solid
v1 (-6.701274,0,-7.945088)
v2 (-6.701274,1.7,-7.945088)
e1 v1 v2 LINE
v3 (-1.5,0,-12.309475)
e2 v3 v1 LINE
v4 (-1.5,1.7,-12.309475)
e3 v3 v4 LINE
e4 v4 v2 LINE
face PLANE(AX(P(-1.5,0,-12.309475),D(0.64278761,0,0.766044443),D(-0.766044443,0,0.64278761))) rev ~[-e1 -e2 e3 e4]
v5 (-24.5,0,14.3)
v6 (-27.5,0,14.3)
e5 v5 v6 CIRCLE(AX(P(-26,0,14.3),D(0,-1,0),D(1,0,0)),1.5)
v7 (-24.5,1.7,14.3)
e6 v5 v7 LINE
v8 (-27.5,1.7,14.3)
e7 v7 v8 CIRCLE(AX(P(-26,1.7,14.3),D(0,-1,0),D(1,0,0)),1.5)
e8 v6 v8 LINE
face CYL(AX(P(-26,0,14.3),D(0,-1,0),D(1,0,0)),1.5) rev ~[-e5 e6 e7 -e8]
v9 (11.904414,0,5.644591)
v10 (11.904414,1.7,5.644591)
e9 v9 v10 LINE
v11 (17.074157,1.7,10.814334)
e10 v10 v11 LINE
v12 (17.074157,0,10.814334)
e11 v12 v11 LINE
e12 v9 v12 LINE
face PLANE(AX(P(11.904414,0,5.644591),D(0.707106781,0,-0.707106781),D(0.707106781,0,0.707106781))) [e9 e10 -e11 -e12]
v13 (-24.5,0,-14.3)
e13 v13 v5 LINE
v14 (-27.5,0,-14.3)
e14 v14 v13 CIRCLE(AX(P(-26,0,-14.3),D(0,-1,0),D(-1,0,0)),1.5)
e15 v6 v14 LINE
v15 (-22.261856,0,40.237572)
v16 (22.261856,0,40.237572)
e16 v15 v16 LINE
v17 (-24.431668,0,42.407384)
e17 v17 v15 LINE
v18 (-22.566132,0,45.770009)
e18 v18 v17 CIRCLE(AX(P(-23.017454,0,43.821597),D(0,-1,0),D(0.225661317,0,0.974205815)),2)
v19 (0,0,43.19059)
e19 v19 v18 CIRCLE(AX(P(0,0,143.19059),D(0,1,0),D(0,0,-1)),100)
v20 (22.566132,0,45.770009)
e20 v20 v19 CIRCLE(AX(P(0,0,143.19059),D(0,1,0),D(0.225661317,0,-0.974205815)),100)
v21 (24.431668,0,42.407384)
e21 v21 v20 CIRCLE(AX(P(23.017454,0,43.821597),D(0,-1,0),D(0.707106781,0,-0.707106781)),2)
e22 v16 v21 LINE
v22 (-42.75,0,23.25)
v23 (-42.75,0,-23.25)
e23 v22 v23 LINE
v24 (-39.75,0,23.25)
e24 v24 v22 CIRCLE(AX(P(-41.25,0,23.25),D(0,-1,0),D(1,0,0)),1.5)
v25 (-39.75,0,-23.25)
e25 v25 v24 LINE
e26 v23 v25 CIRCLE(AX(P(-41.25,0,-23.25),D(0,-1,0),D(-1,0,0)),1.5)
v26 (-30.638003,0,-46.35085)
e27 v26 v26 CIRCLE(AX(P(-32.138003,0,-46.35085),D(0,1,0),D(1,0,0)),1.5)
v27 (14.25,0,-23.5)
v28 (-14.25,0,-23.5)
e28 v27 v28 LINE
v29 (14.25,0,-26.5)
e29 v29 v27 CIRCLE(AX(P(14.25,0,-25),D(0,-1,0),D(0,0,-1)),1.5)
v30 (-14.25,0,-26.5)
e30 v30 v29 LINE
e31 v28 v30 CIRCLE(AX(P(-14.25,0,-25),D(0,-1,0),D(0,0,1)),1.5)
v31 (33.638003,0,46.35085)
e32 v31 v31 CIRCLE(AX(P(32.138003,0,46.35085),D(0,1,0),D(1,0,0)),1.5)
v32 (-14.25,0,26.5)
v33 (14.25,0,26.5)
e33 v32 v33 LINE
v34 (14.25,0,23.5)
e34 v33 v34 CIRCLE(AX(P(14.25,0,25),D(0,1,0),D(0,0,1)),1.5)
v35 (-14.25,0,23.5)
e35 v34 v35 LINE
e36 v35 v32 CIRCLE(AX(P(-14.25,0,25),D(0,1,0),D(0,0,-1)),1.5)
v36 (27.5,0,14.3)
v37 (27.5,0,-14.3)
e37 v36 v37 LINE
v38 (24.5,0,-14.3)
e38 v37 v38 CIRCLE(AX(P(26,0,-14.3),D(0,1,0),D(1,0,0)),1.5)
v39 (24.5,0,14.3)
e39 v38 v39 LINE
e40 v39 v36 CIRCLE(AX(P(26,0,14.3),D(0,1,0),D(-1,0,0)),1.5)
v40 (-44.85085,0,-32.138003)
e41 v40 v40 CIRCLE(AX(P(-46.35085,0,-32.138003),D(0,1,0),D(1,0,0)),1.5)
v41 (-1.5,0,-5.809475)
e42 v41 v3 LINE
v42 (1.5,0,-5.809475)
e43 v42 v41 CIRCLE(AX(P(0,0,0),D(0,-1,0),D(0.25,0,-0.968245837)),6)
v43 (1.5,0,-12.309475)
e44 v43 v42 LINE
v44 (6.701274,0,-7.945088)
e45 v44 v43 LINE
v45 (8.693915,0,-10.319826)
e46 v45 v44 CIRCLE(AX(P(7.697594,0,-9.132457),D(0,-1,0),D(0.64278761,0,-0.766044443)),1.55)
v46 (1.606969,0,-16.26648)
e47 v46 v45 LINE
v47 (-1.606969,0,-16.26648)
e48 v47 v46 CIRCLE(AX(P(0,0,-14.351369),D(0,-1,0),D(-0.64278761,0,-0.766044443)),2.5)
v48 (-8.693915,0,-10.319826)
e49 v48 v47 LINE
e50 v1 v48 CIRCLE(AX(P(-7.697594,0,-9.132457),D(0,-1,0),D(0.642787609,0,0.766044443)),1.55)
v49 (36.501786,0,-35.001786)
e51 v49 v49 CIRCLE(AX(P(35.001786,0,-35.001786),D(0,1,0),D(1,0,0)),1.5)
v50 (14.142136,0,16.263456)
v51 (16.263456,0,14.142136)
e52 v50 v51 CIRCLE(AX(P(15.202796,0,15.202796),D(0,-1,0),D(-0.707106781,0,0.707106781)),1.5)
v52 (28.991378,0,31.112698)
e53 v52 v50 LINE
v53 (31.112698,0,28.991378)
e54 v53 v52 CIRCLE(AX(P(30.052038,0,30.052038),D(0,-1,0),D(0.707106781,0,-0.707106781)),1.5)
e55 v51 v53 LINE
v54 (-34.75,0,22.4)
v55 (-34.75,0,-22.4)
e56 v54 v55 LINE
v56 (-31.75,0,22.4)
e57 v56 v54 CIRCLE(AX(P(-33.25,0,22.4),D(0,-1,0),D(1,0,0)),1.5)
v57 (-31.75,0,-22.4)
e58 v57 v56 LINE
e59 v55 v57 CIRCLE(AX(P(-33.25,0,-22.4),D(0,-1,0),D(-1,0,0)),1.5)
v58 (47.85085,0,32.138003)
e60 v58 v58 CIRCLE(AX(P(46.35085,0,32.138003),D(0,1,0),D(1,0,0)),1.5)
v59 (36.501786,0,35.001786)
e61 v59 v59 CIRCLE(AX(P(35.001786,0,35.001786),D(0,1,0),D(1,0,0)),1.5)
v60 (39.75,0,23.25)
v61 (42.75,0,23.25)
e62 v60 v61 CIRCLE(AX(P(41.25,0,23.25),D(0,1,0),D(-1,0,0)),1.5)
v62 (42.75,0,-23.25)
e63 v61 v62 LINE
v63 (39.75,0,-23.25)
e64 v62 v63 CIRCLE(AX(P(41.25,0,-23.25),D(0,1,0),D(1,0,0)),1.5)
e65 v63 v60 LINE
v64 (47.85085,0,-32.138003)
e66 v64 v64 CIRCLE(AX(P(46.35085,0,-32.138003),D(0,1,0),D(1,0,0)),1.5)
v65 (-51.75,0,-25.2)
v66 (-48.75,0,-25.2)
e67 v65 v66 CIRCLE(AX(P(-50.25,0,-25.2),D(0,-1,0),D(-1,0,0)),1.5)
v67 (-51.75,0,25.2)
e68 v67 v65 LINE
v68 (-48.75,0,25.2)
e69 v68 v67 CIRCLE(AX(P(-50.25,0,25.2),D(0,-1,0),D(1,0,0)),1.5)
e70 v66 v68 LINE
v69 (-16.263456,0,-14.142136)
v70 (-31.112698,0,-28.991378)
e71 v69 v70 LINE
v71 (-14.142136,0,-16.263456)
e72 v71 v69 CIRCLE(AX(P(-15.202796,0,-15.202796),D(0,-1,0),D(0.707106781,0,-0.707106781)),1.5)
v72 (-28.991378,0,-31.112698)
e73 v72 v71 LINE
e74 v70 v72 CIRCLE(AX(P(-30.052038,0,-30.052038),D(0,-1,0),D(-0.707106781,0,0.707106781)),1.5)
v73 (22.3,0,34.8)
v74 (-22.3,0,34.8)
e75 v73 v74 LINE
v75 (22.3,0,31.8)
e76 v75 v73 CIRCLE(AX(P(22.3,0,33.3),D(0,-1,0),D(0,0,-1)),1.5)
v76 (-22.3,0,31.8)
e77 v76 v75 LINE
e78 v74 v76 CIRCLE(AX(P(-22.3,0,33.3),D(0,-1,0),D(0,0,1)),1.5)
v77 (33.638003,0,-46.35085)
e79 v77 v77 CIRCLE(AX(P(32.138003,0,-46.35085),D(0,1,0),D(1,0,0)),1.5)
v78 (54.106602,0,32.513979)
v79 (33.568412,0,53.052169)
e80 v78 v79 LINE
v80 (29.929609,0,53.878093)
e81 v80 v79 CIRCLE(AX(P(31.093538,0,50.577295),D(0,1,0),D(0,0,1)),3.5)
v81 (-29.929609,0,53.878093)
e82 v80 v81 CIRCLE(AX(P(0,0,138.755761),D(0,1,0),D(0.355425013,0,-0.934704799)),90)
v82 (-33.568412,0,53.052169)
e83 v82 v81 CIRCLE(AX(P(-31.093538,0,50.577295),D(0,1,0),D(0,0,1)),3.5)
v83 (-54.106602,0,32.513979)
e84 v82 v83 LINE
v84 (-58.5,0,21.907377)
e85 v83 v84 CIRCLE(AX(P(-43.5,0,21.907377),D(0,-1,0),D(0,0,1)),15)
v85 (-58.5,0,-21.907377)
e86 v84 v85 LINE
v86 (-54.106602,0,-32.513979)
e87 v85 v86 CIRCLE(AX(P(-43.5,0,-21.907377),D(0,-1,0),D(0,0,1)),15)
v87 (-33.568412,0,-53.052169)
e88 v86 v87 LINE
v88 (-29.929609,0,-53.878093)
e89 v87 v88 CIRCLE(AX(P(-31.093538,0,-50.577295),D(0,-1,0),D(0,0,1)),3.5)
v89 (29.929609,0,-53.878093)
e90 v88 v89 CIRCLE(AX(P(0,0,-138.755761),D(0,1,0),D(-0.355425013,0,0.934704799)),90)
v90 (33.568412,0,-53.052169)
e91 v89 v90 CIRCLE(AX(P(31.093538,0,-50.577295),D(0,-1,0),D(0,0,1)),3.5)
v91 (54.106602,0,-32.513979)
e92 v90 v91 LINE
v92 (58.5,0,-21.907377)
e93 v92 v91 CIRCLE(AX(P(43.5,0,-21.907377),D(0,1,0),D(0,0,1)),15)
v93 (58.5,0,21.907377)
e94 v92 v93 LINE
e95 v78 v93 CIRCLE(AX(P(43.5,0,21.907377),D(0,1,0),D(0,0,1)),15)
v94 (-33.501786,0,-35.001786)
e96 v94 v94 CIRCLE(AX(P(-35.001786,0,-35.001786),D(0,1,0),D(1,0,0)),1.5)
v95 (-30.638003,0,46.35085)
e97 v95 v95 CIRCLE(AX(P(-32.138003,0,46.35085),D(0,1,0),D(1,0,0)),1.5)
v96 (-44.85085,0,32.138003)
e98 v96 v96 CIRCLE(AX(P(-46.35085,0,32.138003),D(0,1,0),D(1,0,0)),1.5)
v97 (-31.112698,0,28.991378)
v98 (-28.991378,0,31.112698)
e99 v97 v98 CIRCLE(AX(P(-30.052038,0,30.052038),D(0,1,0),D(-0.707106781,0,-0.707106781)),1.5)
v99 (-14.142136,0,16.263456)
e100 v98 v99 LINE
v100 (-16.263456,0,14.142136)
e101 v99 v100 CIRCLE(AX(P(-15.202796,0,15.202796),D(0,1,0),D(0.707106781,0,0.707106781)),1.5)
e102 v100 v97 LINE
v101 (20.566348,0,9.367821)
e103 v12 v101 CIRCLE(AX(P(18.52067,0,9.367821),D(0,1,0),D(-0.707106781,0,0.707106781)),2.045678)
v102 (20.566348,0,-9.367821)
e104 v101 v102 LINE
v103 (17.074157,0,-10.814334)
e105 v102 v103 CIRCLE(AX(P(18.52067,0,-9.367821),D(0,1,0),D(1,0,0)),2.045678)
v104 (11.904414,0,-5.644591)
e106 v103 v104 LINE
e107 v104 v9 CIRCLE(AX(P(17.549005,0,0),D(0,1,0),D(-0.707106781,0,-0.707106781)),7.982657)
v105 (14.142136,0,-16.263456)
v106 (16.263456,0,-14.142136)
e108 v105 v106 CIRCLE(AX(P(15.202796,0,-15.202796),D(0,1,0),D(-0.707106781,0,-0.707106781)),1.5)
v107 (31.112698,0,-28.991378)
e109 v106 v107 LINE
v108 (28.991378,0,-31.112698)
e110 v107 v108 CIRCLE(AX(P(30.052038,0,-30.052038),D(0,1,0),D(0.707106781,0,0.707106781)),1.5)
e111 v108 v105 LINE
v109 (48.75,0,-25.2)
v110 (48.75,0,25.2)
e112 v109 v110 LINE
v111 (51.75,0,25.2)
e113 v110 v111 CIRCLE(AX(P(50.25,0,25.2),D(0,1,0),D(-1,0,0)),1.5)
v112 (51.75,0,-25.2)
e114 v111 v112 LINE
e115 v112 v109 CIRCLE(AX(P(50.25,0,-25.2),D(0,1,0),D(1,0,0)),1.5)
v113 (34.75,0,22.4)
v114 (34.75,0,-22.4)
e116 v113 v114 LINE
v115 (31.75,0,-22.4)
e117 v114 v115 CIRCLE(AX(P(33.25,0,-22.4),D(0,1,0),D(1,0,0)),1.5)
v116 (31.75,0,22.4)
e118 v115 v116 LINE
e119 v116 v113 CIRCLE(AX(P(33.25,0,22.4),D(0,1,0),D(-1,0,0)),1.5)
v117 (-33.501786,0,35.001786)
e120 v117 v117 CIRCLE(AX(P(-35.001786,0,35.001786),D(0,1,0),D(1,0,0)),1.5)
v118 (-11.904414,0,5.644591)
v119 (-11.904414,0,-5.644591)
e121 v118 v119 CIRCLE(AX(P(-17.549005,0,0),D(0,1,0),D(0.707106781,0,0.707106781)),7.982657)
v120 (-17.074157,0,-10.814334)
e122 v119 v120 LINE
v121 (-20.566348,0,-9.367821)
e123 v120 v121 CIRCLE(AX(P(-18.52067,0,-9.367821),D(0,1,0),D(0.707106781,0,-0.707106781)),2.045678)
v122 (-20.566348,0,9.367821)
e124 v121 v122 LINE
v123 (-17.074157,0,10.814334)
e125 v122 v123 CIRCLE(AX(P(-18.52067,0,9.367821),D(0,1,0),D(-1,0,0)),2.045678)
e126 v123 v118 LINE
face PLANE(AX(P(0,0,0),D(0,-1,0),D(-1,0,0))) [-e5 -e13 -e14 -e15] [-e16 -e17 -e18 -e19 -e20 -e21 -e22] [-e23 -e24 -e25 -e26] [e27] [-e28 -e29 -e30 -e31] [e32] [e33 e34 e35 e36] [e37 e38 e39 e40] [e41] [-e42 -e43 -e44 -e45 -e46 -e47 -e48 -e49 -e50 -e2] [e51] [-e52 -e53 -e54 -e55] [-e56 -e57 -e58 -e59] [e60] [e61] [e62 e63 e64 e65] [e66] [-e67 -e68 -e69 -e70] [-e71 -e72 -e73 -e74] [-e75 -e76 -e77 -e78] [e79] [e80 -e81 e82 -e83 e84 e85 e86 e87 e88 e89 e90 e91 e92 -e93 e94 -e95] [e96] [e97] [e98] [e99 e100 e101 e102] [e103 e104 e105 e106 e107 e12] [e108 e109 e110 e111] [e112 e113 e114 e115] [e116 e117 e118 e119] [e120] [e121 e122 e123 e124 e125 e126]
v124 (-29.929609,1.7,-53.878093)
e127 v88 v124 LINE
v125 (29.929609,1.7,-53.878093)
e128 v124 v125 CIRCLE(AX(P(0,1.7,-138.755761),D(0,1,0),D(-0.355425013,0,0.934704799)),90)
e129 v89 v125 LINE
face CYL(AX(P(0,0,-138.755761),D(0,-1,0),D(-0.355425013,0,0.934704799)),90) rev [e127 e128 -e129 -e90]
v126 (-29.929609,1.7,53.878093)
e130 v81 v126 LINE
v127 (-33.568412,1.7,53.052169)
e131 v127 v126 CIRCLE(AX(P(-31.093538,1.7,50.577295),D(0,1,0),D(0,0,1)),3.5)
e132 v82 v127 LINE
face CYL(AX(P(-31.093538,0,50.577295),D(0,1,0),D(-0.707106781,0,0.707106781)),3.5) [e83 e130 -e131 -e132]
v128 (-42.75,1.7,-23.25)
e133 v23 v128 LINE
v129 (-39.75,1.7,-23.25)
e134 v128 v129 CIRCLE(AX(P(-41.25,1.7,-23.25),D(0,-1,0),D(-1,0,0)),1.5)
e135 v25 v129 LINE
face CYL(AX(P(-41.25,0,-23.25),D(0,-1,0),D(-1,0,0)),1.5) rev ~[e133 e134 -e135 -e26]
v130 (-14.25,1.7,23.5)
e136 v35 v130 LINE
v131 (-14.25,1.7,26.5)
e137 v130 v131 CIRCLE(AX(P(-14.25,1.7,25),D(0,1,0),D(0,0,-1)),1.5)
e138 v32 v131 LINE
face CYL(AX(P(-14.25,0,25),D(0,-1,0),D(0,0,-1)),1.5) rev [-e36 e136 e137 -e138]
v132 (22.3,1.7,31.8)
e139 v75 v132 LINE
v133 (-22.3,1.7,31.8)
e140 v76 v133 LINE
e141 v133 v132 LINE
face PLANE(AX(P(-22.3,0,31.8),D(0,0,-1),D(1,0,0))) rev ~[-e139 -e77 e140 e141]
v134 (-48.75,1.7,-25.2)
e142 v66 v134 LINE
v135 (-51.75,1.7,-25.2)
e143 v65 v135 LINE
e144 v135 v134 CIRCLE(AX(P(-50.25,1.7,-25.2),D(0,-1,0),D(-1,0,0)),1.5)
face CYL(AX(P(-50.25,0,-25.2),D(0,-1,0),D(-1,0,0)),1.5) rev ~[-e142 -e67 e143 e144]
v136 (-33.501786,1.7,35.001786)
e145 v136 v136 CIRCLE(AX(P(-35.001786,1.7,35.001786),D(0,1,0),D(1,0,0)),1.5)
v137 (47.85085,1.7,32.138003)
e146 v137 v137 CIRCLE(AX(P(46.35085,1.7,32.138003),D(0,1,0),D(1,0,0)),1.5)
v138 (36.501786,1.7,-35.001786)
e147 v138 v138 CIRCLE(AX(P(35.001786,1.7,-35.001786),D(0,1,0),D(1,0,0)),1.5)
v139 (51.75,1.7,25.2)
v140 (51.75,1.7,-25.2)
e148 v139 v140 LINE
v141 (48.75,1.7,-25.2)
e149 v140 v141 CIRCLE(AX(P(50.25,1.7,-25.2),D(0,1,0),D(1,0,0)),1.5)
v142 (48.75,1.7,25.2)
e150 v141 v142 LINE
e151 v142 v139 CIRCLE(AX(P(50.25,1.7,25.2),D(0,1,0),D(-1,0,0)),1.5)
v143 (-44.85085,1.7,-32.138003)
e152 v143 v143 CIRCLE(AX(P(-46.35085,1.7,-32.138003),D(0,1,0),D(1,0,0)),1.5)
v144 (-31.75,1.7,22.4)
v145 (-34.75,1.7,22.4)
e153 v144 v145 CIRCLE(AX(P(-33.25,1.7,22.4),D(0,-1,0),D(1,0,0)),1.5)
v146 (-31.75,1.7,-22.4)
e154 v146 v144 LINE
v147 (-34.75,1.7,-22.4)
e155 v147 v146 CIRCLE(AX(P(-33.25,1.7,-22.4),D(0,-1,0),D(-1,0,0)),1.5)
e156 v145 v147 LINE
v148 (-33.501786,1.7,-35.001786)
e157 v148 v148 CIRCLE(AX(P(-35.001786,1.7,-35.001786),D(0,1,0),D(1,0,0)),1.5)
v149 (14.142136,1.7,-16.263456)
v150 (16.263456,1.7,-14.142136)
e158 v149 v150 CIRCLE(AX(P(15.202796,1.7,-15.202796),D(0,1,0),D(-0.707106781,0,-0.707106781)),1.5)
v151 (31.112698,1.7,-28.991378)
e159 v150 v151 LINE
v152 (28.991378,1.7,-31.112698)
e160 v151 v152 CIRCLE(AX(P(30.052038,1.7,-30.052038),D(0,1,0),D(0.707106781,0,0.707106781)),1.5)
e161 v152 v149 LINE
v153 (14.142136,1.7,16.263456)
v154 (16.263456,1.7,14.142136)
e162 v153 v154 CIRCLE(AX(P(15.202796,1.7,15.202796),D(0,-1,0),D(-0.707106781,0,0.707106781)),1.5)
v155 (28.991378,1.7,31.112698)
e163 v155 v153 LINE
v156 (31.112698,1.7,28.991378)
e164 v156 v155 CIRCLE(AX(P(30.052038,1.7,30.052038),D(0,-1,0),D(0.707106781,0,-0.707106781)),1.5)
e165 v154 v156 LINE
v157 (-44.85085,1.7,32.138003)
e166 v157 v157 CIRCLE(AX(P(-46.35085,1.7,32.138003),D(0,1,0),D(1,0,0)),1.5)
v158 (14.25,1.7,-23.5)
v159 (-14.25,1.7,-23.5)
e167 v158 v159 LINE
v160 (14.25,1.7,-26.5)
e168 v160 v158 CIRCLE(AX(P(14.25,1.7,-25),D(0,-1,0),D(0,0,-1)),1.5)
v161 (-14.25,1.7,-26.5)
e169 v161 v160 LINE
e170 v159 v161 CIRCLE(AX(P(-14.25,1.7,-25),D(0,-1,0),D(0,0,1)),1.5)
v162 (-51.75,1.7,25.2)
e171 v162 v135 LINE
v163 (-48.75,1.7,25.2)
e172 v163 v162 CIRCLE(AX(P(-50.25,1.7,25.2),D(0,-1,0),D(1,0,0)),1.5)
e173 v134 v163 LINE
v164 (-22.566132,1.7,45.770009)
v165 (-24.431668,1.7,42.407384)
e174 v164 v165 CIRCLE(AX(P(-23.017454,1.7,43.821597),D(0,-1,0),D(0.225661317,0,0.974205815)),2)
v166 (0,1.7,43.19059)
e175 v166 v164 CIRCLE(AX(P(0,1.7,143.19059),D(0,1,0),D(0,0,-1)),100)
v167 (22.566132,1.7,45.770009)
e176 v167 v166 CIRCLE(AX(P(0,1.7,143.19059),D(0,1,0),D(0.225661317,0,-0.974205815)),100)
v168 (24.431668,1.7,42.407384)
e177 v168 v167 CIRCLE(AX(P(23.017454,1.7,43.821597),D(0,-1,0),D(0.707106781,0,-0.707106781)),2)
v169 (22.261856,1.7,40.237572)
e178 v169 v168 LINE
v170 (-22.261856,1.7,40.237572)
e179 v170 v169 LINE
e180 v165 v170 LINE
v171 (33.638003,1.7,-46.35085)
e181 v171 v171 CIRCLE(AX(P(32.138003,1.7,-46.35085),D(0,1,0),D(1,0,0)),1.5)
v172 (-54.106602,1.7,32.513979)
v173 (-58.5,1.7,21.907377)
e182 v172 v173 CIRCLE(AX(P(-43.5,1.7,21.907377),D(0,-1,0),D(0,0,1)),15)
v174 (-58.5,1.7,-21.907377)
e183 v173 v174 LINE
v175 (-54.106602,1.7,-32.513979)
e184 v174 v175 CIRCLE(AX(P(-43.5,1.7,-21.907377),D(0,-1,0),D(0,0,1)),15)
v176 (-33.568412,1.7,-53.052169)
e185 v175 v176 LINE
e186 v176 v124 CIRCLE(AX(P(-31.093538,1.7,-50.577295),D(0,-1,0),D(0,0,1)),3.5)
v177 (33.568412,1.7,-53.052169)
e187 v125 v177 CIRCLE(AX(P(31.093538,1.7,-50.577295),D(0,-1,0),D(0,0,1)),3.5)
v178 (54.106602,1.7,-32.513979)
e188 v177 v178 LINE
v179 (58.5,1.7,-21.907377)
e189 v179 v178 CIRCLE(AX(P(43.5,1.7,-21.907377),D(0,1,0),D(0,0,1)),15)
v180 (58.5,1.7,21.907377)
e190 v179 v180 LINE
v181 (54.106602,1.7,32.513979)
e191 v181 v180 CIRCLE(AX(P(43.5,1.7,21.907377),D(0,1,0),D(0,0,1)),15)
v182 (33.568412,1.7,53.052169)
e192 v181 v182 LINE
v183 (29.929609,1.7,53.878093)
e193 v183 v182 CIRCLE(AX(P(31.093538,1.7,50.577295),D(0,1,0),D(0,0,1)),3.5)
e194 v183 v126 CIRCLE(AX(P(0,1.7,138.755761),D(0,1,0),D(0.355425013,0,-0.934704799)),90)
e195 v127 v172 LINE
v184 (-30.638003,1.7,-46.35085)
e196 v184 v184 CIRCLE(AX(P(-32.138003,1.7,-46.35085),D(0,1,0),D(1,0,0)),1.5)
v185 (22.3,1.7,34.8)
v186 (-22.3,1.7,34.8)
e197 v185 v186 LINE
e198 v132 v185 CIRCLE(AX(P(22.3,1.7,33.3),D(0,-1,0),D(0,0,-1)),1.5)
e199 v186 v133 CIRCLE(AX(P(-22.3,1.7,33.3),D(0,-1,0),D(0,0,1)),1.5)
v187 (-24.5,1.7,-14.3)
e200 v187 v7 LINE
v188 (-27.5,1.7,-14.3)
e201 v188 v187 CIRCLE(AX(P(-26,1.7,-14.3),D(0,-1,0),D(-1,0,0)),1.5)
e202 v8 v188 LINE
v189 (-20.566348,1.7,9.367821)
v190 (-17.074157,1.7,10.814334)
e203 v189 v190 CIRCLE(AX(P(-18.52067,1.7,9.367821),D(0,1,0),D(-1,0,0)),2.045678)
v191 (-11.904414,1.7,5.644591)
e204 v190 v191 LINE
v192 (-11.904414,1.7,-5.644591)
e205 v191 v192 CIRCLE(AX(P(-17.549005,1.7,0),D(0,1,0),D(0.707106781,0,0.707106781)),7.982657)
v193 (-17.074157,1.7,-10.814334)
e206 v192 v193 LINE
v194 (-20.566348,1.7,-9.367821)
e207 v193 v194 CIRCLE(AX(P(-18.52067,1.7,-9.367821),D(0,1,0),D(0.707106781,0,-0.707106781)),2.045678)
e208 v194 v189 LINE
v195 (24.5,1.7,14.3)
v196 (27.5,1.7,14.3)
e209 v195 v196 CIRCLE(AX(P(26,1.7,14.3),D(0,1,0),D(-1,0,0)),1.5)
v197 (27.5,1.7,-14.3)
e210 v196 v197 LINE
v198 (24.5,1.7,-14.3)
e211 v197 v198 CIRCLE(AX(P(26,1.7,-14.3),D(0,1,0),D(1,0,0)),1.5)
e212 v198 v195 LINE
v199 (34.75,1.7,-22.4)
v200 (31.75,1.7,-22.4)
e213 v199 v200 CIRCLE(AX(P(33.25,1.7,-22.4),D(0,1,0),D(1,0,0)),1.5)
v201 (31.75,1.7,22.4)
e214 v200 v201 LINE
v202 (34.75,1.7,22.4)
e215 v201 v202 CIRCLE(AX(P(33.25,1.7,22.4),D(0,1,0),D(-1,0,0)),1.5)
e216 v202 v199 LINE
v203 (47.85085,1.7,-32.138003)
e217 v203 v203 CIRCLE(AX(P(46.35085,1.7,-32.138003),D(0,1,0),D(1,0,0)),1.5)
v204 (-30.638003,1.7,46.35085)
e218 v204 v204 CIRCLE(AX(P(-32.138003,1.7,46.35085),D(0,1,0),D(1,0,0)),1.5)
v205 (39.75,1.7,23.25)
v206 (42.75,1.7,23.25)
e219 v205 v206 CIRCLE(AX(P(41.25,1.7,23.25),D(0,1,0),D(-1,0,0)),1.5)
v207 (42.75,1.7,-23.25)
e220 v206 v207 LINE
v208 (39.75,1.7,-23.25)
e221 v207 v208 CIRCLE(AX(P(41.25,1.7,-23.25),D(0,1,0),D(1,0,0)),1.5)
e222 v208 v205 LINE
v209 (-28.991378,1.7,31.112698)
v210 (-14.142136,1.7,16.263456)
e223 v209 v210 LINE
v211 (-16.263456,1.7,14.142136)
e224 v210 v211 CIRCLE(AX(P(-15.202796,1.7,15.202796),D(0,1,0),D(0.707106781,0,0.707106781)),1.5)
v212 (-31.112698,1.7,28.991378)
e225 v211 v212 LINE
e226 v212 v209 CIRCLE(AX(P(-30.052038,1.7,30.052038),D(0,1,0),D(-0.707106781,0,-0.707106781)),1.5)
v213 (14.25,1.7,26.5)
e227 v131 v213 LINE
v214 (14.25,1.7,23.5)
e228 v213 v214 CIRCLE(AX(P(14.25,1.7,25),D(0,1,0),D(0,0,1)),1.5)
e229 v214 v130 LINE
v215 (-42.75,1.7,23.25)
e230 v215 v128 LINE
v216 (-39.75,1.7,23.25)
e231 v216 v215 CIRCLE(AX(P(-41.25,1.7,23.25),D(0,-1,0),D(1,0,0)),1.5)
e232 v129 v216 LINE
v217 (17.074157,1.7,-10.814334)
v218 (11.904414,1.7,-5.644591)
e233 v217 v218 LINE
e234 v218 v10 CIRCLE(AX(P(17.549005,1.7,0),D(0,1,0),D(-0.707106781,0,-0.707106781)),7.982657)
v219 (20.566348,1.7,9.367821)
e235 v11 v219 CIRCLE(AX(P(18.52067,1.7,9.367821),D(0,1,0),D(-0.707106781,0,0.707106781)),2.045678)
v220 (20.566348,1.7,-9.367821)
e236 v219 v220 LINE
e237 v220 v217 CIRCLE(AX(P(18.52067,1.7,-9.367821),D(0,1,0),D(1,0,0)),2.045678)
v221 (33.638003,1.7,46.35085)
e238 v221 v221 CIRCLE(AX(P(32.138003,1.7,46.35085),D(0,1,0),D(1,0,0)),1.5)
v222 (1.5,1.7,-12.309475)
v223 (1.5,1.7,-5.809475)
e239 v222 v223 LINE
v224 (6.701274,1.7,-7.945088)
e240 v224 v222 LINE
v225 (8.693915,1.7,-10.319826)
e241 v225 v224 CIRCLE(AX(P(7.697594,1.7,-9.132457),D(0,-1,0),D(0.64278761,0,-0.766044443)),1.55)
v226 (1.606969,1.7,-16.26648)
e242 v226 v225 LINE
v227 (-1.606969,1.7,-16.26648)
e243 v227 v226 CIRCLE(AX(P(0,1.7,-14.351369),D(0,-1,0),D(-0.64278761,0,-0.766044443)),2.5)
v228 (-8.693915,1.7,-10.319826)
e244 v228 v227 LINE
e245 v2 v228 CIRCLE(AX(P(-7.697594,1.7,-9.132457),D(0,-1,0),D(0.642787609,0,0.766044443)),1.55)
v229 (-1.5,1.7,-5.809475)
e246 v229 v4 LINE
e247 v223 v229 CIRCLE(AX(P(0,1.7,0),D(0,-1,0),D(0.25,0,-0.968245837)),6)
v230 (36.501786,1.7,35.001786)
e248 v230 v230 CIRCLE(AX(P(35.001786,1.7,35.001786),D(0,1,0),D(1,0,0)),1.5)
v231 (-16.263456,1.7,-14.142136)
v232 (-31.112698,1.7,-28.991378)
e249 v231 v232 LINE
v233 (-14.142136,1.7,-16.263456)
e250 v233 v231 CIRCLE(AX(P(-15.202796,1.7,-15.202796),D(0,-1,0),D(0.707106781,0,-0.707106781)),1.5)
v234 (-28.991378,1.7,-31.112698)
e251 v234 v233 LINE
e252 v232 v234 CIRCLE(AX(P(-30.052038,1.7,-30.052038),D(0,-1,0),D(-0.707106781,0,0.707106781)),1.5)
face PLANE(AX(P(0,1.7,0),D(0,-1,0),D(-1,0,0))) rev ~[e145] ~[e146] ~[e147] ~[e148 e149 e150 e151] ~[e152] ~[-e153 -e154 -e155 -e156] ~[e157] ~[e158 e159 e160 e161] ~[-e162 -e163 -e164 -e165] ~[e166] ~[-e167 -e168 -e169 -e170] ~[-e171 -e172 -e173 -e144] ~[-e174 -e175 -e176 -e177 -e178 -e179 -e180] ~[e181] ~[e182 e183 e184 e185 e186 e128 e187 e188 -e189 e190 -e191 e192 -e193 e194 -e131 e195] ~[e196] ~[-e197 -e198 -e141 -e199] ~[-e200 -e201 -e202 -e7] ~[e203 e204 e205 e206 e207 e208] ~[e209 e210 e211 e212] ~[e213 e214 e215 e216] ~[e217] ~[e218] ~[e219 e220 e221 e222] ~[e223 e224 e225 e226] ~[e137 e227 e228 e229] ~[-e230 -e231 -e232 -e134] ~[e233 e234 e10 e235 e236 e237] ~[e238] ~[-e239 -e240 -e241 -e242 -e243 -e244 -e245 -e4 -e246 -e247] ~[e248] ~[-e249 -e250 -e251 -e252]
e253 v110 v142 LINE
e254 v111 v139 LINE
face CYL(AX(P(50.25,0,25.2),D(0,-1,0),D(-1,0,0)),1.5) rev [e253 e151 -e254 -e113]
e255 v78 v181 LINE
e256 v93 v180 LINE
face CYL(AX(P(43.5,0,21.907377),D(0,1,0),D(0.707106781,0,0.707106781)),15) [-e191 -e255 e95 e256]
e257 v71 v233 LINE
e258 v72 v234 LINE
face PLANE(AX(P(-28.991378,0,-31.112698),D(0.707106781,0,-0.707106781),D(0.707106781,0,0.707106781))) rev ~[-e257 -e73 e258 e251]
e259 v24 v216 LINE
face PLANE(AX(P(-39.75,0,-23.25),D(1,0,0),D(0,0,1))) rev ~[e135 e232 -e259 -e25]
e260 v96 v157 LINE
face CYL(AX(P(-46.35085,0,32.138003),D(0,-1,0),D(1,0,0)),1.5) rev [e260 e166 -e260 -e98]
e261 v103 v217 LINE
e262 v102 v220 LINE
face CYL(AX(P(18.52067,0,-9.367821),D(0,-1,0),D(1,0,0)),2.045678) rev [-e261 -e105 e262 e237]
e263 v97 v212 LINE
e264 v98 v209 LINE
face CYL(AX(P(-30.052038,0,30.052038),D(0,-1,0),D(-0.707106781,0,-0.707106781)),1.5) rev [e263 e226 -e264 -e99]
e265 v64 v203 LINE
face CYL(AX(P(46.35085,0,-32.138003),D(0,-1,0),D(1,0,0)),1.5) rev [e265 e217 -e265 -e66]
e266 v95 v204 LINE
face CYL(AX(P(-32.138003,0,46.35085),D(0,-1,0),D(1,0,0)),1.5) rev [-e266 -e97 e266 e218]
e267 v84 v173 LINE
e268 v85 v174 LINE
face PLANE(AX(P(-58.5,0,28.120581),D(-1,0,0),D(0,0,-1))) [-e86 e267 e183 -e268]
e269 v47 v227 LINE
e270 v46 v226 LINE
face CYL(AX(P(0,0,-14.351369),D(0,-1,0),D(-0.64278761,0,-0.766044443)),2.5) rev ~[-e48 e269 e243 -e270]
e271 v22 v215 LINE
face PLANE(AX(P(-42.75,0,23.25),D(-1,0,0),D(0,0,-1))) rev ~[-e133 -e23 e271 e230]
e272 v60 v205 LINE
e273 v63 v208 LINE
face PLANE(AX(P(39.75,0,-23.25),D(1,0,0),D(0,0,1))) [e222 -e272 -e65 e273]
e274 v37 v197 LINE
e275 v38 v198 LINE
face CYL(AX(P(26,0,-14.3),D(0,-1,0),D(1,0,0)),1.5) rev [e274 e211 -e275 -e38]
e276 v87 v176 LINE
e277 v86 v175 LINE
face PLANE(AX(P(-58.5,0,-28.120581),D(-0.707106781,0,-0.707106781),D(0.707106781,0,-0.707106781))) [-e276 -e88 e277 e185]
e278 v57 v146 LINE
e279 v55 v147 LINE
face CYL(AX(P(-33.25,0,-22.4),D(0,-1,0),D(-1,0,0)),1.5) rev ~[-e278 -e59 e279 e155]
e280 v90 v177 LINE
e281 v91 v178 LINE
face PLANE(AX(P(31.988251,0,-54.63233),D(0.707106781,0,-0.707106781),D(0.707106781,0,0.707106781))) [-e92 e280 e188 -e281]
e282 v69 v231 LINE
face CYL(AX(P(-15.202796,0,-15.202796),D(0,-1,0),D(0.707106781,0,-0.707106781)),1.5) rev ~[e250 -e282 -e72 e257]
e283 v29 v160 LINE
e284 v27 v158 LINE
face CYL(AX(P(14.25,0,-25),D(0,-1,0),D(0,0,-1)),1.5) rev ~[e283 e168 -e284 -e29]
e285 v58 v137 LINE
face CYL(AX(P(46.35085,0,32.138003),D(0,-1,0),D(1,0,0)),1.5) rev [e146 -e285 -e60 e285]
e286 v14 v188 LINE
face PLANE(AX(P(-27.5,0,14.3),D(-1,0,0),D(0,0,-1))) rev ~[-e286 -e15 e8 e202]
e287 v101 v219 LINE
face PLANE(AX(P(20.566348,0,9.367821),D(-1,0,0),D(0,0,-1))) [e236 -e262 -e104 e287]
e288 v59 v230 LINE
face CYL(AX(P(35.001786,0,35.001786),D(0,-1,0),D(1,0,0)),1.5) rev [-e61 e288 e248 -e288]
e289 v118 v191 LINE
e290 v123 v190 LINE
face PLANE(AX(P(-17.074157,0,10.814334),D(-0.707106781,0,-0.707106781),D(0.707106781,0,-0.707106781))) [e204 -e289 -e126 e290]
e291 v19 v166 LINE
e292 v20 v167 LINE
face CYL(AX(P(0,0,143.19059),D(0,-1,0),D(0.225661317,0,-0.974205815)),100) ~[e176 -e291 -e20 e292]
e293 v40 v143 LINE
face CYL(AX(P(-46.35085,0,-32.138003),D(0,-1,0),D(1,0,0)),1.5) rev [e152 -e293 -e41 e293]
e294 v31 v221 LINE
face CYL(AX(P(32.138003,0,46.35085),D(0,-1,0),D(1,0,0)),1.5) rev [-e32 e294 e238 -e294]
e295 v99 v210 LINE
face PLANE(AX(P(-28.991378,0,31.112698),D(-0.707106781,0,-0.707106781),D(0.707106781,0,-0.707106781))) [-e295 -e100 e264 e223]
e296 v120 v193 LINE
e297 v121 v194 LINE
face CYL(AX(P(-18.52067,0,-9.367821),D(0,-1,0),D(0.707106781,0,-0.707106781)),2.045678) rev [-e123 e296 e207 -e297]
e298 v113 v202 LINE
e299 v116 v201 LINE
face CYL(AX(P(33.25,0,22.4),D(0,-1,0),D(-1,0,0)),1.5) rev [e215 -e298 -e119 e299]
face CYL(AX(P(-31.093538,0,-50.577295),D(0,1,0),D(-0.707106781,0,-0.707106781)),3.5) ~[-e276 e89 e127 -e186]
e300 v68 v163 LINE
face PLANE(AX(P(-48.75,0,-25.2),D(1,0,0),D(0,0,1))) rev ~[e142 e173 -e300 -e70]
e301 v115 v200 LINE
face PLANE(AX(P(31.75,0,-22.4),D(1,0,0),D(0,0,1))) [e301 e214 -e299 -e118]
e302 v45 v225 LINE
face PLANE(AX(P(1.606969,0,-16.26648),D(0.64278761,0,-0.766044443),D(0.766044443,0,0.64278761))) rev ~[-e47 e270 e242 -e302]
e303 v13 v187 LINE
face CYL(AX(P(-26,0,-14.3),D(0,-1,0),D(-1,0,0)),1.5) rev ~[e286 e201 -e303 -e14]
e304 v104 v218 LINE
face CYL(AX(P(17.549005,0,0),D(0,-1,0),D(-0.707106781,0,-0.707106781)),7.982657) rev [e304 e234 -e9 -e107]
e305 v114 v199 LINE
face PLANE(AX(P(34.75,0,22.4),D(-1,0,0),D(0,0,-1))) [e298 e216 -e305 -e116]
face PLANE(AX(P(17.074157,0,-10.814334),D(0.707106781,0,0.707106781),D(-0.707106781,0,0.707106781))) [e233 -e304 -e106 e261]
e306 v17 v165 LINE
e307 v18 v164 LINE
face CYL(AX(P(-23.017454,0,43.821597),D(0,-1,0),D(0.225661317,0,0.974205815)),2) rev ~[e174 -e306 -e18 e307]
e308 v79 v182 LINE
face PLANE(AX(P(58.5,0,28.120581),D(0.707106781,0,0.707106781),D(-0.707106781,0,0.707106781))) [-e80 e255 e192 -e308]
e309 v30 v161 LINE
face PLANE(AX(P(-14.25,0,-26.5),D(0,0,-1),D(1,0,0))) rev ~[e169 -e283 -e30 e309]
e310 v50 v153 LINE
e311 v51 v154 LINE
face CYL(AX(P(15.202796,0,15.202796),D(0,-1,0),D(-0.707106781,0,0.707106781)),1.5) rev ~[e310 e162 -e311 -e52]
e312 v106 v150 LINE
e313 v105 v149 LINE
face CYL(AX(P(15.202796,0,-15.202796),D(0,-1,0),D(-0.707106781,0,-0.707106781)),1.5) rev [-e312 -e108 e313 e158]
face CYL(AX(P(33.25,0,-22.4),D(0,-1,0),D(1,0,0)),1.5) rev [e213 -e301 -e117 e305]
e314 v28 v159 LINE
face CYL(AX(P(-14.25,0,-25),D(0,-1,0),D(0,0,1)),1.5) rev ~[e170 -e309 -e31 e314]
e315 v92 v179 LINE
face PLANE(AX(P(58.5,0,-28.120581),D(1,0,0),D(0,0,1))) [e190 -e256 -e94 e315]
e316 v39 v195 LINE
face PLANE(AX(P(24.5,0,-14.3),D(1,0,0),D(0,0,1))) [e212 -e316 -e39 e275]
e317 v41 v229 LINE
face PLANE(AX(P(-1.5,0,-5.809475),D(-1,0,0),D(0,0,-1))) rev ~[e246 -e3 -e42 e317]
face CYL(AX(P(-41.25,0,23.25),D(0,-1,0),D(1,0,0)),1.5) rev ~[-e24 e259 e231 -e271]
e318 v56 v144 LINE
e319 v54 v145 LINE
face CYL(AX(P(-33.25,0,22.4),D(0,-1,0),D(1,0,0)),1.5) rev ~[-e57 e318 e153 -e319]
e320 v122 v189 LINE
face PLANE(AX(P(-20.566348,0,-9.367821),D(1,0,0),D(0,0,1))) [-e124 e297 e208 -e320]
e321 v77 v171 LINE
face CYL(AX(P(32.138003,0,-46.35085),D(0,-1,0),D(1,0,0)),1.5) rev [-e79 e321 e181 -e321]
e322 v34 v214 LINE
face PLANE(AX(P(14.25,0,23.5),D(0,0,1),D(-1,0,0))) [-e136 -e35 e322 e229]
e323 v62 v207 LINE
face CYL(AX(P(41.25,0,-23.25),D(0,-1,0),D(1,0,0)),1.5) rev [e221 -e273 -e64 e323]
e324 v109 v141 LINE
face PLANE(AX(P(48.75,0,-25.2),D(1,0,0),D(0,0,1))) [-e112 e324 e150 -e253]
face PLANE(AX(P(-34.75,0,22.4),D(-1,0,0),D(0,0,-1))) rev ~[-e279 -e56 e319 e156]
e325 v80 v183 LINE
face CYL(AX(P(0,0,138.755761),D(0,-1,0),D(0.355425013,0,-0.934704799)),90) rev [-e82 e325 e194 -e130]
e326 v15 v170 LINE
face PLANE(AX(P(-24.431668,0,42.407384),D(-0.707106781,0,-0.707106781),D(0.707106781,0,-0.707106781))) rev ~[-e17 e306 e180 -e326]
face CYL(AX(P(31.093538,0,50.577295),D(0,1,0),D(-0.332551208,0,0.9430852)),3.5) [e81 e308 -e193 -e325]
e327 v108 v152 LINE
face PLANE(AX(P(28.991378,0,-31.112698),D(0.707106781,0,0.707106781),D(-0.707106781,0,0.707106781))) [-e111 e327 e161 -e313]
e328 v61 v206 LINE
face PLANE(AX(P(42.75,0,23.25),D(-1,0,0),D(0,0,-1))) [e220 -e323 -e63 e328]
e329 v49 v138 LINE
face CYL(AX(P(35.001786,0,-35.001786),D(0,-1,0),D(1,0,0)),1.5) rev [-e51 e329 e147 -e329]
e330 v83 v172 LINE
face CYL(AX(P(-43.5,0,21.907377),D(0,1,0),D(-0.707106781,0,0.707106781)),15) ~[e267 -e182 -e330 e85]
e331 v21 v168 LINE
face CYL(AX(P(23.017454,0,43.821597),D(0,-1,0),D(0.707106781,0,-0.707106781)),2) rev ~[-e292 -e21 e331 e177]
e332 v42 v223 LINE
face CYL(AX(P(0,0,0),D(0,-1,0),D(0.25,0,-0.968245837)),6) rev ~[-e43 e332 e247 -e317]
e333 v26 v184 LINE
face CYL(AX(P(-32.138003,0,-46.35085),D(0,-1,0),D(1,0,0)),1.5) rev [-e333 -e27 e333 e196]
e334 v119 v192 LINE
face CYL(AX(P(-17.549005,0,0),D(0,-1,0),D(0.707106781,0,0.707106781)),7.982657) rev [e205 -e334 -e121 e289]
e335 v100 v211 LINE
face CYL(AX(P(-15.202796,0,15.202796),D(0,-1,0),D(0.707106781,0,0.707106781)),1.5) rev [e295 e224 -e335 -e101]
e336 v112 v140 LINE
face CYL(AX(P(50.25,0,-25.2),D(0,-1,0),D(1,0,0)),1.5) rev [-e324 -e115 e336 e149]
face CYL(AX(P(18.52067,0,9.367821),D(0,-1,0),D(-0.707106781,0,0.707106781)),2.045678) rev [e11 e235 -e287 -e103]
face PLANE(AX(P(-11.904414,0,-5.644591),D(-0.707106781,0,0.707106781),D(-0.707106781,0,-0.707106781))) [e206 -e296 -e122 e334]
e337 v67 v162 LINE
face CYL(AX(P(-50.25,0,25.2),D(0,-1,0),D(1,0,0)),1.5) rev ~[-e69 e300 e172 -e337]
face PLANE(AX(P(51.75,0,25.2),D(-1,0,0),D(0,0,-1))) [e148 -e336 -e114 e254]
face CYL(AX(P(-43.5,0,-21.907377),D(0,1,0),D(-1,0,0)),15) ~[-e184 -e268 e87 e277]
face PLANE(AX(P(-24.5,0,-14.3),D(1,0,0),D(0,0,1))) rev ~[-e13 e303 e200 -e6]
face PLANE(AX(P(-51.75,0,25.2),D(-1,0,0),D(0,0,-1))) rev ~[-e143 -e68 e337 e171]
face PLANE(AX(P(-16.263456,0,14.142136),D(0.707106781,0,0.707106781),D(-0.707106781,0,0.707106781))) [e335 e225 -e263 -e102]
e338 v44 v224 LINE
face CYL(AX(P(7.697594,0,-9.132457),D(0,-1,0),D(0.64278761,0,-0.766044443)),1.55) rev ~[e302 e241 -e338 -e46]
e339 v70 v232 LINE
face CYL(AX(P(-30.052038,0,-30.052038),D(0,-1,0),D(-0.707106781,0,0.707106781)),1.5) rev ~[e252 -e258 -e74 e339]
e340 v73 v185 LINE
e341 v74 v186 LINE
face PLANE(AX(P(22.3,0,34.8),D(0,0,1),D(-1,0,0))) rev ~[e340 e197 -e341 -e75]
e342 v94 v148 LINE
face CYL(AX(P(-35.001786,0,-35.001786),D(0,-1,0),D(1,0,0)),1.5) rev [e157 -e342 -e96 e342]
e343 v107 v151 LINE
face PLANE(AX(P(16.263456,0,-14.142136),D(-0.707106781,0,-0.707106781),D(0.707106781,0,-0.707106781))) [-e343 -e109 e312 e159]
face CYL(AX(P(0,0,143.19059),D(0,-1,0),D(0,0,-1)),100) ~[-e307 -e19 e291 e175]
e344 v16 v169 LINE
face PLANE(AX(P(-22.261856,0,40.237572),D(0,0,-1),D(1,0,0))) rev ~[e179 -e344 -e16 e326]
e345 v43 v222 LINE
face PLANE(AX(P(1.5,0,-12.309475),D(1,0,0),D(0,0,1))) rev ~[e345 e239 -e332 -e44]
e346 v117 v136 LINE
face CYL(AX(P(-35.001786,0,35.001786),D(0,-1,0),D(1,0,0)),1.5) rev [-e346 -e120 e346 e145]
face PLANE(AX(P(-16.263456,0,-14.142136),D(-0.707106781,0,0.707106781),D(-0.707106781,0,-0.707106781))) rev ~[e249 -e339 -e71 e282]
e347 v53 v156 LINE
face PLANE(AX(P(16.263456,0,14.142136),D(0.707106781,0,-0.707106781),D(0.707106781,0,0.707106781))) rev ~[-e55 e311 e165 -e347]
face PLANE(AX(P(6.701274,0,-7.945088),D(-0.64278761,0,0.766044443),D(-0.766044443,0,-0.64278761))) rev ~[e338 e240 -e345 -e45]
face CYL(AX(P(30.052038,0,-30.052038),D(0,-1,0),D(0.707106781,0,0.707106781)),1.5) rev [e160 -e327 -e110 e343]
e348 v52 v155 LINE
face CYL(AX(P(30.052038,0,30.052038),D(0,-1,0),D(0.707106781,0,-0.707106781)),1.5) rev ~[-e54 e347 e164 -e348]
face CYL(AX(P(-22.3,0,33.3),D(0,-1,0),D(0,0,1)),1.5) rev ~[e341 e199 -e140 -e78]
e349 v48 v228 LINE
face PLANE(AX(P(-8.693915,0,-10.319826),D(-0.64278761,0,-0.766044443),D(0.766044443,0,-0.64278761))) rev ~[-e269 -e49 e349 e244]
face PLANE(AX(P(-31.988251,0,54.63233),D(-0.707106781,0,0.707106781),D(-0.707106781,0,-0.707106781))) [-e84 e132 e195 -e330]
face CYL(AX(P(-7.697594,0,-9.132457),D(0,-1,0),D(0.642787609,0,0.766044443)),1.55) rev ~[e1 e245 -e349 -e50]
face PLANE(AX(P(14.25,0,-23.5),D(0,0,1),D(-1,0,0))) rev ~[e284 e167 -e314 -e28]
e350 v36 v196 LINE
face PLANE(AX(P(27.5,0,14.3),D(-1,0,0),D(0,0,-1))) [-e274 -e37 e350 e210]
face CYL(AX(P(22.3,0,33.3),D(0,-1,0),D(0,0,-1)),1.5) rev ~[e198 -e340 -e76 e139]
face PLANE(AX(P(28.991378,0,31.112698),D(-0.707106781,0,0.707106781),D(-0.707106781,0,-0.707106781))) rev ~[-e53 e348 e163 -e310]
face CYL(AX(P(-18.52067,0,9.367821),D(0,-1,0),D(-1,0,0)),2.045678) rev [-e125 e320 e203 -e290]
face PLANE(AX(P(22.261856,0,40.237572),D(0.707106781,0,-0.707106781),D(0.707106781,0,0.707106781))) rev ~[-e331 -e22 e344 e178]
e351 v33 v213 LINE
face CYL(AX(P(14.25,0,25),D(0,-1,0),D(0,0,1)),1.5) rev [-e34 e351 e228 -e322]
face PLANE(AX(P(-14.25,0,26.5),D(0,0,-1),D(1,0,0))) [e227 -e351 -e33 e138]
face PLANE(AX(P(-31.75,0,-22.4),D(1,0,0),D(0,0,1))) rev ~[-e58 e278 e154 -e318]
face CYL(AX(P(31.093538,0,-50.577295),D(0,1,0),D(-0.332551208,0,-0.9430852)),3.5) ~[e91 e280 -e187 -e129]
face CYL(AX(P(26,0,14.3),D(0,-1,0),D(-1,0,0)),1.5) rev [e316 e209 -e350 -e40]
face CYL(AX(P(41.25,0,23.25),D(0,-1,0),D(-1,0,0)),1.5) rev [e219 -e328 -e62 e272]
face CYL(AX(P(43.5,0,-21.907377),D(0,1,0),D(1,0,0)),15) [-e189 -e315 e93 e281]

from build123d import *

# Parameters (mm, degrees)
SKETCH_1_R      = 1.5
EXTRUDE_1_DEPTH = 1.7
FILLET_1_R      = 3.5
FILLET_2_R      = 15


with BuildPart() as part:
    # 草圖1 → 填料-伸長1 (new body)
    with BuildSketch(Plane(origin=(0, 0, 0), x_dir=(1, 0, 0), z_dir=(0, 1, 0))):
        with BuildLine():
            Line((-31.988251141, -54.632329554), (-58.5, -28.120580695))
            Line((-58.5, -28.120580695), (-58.5, 28.120580695))
            Line((-58.5, 28.120580695), (-31.988251141, 54.632329554))
            ThreePointArc((-31.988251141, 54.632329554), (0, 48.75576142), (31.988251141, 54.632329554))
            Line((31.988251141, 54.632329554), (58.5, 28.120580695))
            Line((58.5, 28.120580695), (58.5, -28.120580695))
            Line((58.5, -28.120580695), (31.988251141, -54.632329554))
            ThreePointArc((31.988251141, -54.632329554), (0, -48.75576142), (-31.988251141, -54.632329554))
        make_face()
        with Locations((-35.001785669, 35.001785669)):
            Circle(SKETCH_1_R, mode=Mode.SUBTRACT)
        with Locations((35.001785669, -35.001785669)):
            Circle(SKETCH_1_R, mode=Mode.SUBTRACT)
        with Locations((-35.001785669, -35.001785669)):
            Circle(SKETCH_1_R, mode=Mode.SUBTRACT)
        with Locations((35.001785669, 35.001785669)):
            Circle(SKETCH_1_R, mode=Mode.SUBTRACT)
        with Locations((-32.138003205, -46.350849507)):
            Circle(SKETCH_1_R, mode=Mode.SUBTRACT)
        with Locations((-46.350849507, -32.138003205)):
            Circle(SKETCH_1_R, mode=Mode.SUBTRACT)
        with Locations((-32.138003205, 46.350849507)):
            Circle(SKETCH_1_R, mode=Mode.SUBTRACT)
        with Locations((-46.350849507, 32.138003205)):
            Circle(SKETCH_1_R, mode=Mode.SUBTRACT)
        with Locations((46.350849507, 32.138003205)):
            Circle(SKETCH_1_R, mode=Mode.SUBTRACT)
        with Locations((32.138003205, 46.350849507)):
            Circle(SKETCH_1_R, mode=Mode.SUBTRACT)
        with Locations((32.138003205, -46.350849507)):
            Circle(SKETCH_1_R, mode=Mode.SUBTRACT)
        with Locations((46.350849507, -32.138003205)):
            Circle(SKETCH_1_R, mode=Mode.SUBTRACT)
        with BuildLine():
            Line((-14.25, 26.5), (14.25, 26.5))
            ThreePointArc((14.25, 26.5), (15.75, 25), (14.25, 23.5))
            Line((14.25, 23.5), (-14.25, 23.5))
            ThreePointArc((-14.25, 23.5), (-15.75, 25), (-14.25, 26.5))
        make_face(mode=Mode.SUBTRACT)
        with BuildLine():
            Line((-14.25, -26.5), (14.25, -26.5))
            ThreePointArc((14.25, -26.5), (15.75, -25), (14.25, -23.5))
            Line((14.25, -23.5), (-14.25, -23.5))
            ThreePointArc((-14.25, -23.5), (-15.75, -25), (-14.25, -26.5))
        make_face(mode=Mode.SUBTRACT)
        with BuildLine():
            Line((-28.991378029, 31.112698372), (-14.142135624, 16.263455967))
            ThreePointArc((-14.142135624, 16.263455967), (-14.142135624, 14.142135624), (-16.263455967, 14.142135624))
            Line((-16.263455967, 14.142135624), (-31.112698372, 28.991378029))
            ThreePointArc((-31.112698372, 28.991378029), (-31.112698372, 31.112698372), (-28.991378029, 31.112698372))
        make_face(mode=Mode.SUBTRACT)
        with BuildLine():
            Line((28.991378029, 31.112698372), (14.142135624, 16.263455967))
            ThreePointArc((14.142135624, 16.263455967), (14.142135624, 14.142135624), (16.263455967, 14.142135624))
            Line((16.263455967, 14.142135624), (31.112698372, 28.991378029))
            ThreePointArc((31.112698372, 28.991378029), (31.112698372, 31.112698372), (28.991378029, 31.112698372))
        make_face(mode=Mode.SUBTRACT)
        with BuildLine():
            Line((28.991378029, -31.112698372), (14.142135624, -16.263455967))
            ThreePointArc((14.142135624, -16.263455967), (14.142135624, -14.142135624), (16.263455967, -14.142135624))
            Line((16.263455967, -14.142135624), (31.112698372, -28.991378029))
            ThreePointArc((31.112698372, -28.991378029), (31.112698372, -31.112698372), (28.991378029, -31.112698372))
        make_face(mode=Mode.SUBTRACT)
        with BuildLine():
            Line((-28.991378029, -31.112698372), (-14.142135624, -16.263455967))
            ThreePointArc((-14.142135624, -16.263455967), (-14.142135624, -14.142135624), (-16.263455967, -14.142135624))
            Line((-16.263455967, -14.142135624), (-31.112698372, -28.991378029))
            ThreePointArc((-31.112698372, -28.991378029), (-31.112698372, -31.112698372), (-28.991378029, -31.112698372))
        make_face(mode=Mode.SUBTRACT)
        with BuildLine():
            Line((-31.75, 22.4), (-31.75, -22.4))
            ThreePointArc((-31.75, -22.4), (-33.25, -23.9), (-34.75, -22.4))
            Line((-34.75, -22.4), (-34.75, 22.4))
            ThreePointArc((-34.75, 22.4), (-33.25, 23.9), (-31.75, 22.4))
        make_face(mode=Mode.SUBTRACT)
        with BuildLine():
            Line((-39.75, 23.25), (-39.75, -23.25))
            ThreePointArc((-39.75, -23.25), (-41.25, -24.75), (-42.75, -23.25))
            Line((-42.75, -23.25), (-42.75, 23.25))
            ThreePointArc((-42.75, 23.25), (-41.25, 24.75), (-39.75, 23.25))
        make_face(mode=Mode.SUBTRACT)
        with BuildLine():
            Line((-48.75, 25.2), (-48.75, -25.2))
            ThreePointArc((-48.75, -25.2), (-50.25, -26.7), (-51.75, -25.2))
            Line((-51.75, -25.2), (-51.75, 25.2))
            ThreePointArc((-51.75, 25.2), (-50.25, 26.7), (-48.75, 25.2))
        make_face(mode=Mode.SUBTRACT)
        with BuildLine():
            Line((48.75, 25.2), (48.75, -25.2))
            ThreePointArc((48.75, -25.2), (50.25, -26.7), (51.75, -25.2))
            Line((51.75, -25.2), (51.75, 25.2))
            ThreePointArc((51.75, 25.2), (50.25, 26.7), (48.75, 25.2))
        make_face(mode=Mode.SUBTRACT)
        with BuildLine():
            Line((39.75, 23.25), (39.75, -23.25))
            ThreePointArc((39.75, -23.25), (41.25, -24.75), (42.75, -23.25))
            Line((42.75, -23.25), (42.75, 23.25))
            ThreePointArc((42.75, 23.25), (41.25, 24.75), (39.75, 23.25))
        make_face(mode=Mode.SUBTRACT)
        with BuildLine():
            Line((31.75, 22.4), (31.75, -22.4))
            ThreePointArc((31.75, -22.4), (33.25, -23.9), (34.75, -22.4))
            Line((34.75, -22.4), (34.75, 22.4))
            ThreePointArc((34.75, 22.4), (33.25, 23.9), (31.75, 22.4))
        make_face(mode=Mode.SUBTRACT)
        with BuildLine():
            Line((-24.5, 14.3), (-24.5, -14.3))
            ThreePointArc((-24.5, -14.3), (-26, -15.8), (-27.5, -14.3))
            Line((-27.5, -14.3), (-27.5, 14.3))
            ThreePointArc((-27.5, 14.3), (-26, 15.8), (-24.5, 14.3))
        make_face(mode=Mode.SUBTRACT)
        with BuildLine():
            Line((-1.5, 5.809475019), (-1.5, 12.309475019))
            Line((-1.5, 12.309475019), (-6.701273653, 7.945088216))
            ThreePointArc((-6.701273653, 7.945088216), (-8.884963334, 8.136136308), (-8.693915243, 10.319825989))
            Line((-8.693915243, 10.319825989), (-1.606969024, 16.266479947))
            ThreePointArc((-1.606969024, 16.266479947), (0, 16.85136884), (1.606969024, 16.266479947))
            Line((1.606969024, 16.266479947), (8.693915243, 10.319825989))
            ThreePointArc((8.693915243, 10.319825989), (8.884963334, 8.136136308), (6.701273653, 7.945088216))
            Line((6.701273653, 7.945088216), (1.5, 12.309475019))
            Line((1.5, 12.309475019), (1.5, 5.809475019))
            ThreePointArc((1.5, 5.809475019), (0, -6), (-1.5, 5.809475019))
        make_face(mode=Mode.SUBTRACT)
        with BuildLine():
            Line((24.5, 14.3), (24.5, -14.3))
            ThreePointArc((24.5, -14.3), (26, -15.8), (27.5, -14.3))
            Line((27.5, -14.3), (27.5, 14.3))
            ThreePointArc((27.5, 14.3), (26, 15.8), (24.5, 14.3))
        make_face(mode=Mode.SUBTRACT)
        with BuildLine():
            Line((-22.3, -31.8), (22.3, -31.8))
            ThreePointArc((22.3, -31.8), (23.8, -33.3), (22.3, -34.8))
            Line((22.3, -34.8), (-22.3, -34.8))
            ThreePointArc((-22.3, -34.8), (-23.8, -33.3), (-22.3, -31.8))
        make_face(mode=Mode.SUBTRACT)
        with BuildLine():
            Line((20.566347785, -9.367820826), (20.566347785, 9.367820826))
            ThreePointArc((20.566347785, 9.367820826), (19.303516728, 11.257781063), (17.074156624, 10.814333767))
            Line((17.074156624, 10.814333767), (11.904413984, 5.644591127))
            ThreePointArc((11.904413984, 5.644591127), (9.566347785, 0), (11.904413984, -5.644591127))
            Line((11.904413984, -5.644591127), (17.074156624, -10.814333767))
            ThreePointArc((17.074156624, -10.814333767), (19.303516728, -11.257781063), (20.566347785, -9.367820826))
        make_face(mode=Mode.SUBTRACT)
        with BuildLine():
            Line((-17.074156624, -10.814333767), (-11.904413984, -5.644591127))
            ThreePointArc((-11.904413984, -5.644591127), (-9.566347785, 0), (-11.904413984, 5.644591127))
            Line((-11.904413984, 5.644591127), (-17.074156624, 10.814333767))
            ThreePointArc((-17.074156624, 10.814333767), (-19.303516728, 11.257781063), (-20.566347785, 9.367820826))
            Line((-20.566347785, 9.367820826), (-20.566347785, -9.367820826))
            ThreePointArc((-20.566347785, -9.367820826), (-19.303516728, -11.257781063), (-17.074156624, -10.814333767))
        make_face(mode=Mode.SUBTRACT)
        with BuildLine():
            Line((-22.261855959, -40.237571716), (22.261855959, -40.237571716))
            Line((22.261855959, -40.237571716), (24.43166791, -42.407383666))
            ThreePointArc((24.43166791, -42.407383666), (24.766340216, -44.791854009), (22.566131713, -45.770008859))
            ThreePointArc((22.566131713, -45.770008859), (11.356536667, -43.837537687), (0, -43.190590357))
            ThreePointArc((0, -43.190590357), (-11.356536667, -43.837537687), (-22.566131713, -45.770008859))
            ThreePointArc((-22.566131713, -45.770008859), (-24.766340216, -44.791854009), (-24.43166791, -42.407383666))
            Line((-24.43166791, -42.407383666), (-22.261855959, -40.237571716))
        make_face(mode=Mode.SUBTRACT)
    extrude(amount=EXTRUDE_1_DEPTH)

    # 圓角1
    fillet_1_edges = [part.edges().sort_by_distance(p)[0] for p in [
        (31.988251141, 0.85, 54.632329554),
        (-31.988251141, 0.85, 54.632329554),
        (-31.988251141, 0.85, -54.632329554),
        (31.988251141, 0.85, -54.632329554),
    ]]
    fillet(fillet_1_edges, radius=FILLET_1_R)

    # 圓角2
    fillet_2_edges = [part.edges().sort_by_distance(p)[0] for p in [
        (58.5, 0.85, -28.120580695),
        (58.5, 0.85, 28.120580695),
        (-58.5, 0.85, 28.120580695),
        (-58.5, 0.85, -28.120580695),
    ]]
    fillet(fillet_2_edges, radius=FILLET_2_R)


solid = part.part
